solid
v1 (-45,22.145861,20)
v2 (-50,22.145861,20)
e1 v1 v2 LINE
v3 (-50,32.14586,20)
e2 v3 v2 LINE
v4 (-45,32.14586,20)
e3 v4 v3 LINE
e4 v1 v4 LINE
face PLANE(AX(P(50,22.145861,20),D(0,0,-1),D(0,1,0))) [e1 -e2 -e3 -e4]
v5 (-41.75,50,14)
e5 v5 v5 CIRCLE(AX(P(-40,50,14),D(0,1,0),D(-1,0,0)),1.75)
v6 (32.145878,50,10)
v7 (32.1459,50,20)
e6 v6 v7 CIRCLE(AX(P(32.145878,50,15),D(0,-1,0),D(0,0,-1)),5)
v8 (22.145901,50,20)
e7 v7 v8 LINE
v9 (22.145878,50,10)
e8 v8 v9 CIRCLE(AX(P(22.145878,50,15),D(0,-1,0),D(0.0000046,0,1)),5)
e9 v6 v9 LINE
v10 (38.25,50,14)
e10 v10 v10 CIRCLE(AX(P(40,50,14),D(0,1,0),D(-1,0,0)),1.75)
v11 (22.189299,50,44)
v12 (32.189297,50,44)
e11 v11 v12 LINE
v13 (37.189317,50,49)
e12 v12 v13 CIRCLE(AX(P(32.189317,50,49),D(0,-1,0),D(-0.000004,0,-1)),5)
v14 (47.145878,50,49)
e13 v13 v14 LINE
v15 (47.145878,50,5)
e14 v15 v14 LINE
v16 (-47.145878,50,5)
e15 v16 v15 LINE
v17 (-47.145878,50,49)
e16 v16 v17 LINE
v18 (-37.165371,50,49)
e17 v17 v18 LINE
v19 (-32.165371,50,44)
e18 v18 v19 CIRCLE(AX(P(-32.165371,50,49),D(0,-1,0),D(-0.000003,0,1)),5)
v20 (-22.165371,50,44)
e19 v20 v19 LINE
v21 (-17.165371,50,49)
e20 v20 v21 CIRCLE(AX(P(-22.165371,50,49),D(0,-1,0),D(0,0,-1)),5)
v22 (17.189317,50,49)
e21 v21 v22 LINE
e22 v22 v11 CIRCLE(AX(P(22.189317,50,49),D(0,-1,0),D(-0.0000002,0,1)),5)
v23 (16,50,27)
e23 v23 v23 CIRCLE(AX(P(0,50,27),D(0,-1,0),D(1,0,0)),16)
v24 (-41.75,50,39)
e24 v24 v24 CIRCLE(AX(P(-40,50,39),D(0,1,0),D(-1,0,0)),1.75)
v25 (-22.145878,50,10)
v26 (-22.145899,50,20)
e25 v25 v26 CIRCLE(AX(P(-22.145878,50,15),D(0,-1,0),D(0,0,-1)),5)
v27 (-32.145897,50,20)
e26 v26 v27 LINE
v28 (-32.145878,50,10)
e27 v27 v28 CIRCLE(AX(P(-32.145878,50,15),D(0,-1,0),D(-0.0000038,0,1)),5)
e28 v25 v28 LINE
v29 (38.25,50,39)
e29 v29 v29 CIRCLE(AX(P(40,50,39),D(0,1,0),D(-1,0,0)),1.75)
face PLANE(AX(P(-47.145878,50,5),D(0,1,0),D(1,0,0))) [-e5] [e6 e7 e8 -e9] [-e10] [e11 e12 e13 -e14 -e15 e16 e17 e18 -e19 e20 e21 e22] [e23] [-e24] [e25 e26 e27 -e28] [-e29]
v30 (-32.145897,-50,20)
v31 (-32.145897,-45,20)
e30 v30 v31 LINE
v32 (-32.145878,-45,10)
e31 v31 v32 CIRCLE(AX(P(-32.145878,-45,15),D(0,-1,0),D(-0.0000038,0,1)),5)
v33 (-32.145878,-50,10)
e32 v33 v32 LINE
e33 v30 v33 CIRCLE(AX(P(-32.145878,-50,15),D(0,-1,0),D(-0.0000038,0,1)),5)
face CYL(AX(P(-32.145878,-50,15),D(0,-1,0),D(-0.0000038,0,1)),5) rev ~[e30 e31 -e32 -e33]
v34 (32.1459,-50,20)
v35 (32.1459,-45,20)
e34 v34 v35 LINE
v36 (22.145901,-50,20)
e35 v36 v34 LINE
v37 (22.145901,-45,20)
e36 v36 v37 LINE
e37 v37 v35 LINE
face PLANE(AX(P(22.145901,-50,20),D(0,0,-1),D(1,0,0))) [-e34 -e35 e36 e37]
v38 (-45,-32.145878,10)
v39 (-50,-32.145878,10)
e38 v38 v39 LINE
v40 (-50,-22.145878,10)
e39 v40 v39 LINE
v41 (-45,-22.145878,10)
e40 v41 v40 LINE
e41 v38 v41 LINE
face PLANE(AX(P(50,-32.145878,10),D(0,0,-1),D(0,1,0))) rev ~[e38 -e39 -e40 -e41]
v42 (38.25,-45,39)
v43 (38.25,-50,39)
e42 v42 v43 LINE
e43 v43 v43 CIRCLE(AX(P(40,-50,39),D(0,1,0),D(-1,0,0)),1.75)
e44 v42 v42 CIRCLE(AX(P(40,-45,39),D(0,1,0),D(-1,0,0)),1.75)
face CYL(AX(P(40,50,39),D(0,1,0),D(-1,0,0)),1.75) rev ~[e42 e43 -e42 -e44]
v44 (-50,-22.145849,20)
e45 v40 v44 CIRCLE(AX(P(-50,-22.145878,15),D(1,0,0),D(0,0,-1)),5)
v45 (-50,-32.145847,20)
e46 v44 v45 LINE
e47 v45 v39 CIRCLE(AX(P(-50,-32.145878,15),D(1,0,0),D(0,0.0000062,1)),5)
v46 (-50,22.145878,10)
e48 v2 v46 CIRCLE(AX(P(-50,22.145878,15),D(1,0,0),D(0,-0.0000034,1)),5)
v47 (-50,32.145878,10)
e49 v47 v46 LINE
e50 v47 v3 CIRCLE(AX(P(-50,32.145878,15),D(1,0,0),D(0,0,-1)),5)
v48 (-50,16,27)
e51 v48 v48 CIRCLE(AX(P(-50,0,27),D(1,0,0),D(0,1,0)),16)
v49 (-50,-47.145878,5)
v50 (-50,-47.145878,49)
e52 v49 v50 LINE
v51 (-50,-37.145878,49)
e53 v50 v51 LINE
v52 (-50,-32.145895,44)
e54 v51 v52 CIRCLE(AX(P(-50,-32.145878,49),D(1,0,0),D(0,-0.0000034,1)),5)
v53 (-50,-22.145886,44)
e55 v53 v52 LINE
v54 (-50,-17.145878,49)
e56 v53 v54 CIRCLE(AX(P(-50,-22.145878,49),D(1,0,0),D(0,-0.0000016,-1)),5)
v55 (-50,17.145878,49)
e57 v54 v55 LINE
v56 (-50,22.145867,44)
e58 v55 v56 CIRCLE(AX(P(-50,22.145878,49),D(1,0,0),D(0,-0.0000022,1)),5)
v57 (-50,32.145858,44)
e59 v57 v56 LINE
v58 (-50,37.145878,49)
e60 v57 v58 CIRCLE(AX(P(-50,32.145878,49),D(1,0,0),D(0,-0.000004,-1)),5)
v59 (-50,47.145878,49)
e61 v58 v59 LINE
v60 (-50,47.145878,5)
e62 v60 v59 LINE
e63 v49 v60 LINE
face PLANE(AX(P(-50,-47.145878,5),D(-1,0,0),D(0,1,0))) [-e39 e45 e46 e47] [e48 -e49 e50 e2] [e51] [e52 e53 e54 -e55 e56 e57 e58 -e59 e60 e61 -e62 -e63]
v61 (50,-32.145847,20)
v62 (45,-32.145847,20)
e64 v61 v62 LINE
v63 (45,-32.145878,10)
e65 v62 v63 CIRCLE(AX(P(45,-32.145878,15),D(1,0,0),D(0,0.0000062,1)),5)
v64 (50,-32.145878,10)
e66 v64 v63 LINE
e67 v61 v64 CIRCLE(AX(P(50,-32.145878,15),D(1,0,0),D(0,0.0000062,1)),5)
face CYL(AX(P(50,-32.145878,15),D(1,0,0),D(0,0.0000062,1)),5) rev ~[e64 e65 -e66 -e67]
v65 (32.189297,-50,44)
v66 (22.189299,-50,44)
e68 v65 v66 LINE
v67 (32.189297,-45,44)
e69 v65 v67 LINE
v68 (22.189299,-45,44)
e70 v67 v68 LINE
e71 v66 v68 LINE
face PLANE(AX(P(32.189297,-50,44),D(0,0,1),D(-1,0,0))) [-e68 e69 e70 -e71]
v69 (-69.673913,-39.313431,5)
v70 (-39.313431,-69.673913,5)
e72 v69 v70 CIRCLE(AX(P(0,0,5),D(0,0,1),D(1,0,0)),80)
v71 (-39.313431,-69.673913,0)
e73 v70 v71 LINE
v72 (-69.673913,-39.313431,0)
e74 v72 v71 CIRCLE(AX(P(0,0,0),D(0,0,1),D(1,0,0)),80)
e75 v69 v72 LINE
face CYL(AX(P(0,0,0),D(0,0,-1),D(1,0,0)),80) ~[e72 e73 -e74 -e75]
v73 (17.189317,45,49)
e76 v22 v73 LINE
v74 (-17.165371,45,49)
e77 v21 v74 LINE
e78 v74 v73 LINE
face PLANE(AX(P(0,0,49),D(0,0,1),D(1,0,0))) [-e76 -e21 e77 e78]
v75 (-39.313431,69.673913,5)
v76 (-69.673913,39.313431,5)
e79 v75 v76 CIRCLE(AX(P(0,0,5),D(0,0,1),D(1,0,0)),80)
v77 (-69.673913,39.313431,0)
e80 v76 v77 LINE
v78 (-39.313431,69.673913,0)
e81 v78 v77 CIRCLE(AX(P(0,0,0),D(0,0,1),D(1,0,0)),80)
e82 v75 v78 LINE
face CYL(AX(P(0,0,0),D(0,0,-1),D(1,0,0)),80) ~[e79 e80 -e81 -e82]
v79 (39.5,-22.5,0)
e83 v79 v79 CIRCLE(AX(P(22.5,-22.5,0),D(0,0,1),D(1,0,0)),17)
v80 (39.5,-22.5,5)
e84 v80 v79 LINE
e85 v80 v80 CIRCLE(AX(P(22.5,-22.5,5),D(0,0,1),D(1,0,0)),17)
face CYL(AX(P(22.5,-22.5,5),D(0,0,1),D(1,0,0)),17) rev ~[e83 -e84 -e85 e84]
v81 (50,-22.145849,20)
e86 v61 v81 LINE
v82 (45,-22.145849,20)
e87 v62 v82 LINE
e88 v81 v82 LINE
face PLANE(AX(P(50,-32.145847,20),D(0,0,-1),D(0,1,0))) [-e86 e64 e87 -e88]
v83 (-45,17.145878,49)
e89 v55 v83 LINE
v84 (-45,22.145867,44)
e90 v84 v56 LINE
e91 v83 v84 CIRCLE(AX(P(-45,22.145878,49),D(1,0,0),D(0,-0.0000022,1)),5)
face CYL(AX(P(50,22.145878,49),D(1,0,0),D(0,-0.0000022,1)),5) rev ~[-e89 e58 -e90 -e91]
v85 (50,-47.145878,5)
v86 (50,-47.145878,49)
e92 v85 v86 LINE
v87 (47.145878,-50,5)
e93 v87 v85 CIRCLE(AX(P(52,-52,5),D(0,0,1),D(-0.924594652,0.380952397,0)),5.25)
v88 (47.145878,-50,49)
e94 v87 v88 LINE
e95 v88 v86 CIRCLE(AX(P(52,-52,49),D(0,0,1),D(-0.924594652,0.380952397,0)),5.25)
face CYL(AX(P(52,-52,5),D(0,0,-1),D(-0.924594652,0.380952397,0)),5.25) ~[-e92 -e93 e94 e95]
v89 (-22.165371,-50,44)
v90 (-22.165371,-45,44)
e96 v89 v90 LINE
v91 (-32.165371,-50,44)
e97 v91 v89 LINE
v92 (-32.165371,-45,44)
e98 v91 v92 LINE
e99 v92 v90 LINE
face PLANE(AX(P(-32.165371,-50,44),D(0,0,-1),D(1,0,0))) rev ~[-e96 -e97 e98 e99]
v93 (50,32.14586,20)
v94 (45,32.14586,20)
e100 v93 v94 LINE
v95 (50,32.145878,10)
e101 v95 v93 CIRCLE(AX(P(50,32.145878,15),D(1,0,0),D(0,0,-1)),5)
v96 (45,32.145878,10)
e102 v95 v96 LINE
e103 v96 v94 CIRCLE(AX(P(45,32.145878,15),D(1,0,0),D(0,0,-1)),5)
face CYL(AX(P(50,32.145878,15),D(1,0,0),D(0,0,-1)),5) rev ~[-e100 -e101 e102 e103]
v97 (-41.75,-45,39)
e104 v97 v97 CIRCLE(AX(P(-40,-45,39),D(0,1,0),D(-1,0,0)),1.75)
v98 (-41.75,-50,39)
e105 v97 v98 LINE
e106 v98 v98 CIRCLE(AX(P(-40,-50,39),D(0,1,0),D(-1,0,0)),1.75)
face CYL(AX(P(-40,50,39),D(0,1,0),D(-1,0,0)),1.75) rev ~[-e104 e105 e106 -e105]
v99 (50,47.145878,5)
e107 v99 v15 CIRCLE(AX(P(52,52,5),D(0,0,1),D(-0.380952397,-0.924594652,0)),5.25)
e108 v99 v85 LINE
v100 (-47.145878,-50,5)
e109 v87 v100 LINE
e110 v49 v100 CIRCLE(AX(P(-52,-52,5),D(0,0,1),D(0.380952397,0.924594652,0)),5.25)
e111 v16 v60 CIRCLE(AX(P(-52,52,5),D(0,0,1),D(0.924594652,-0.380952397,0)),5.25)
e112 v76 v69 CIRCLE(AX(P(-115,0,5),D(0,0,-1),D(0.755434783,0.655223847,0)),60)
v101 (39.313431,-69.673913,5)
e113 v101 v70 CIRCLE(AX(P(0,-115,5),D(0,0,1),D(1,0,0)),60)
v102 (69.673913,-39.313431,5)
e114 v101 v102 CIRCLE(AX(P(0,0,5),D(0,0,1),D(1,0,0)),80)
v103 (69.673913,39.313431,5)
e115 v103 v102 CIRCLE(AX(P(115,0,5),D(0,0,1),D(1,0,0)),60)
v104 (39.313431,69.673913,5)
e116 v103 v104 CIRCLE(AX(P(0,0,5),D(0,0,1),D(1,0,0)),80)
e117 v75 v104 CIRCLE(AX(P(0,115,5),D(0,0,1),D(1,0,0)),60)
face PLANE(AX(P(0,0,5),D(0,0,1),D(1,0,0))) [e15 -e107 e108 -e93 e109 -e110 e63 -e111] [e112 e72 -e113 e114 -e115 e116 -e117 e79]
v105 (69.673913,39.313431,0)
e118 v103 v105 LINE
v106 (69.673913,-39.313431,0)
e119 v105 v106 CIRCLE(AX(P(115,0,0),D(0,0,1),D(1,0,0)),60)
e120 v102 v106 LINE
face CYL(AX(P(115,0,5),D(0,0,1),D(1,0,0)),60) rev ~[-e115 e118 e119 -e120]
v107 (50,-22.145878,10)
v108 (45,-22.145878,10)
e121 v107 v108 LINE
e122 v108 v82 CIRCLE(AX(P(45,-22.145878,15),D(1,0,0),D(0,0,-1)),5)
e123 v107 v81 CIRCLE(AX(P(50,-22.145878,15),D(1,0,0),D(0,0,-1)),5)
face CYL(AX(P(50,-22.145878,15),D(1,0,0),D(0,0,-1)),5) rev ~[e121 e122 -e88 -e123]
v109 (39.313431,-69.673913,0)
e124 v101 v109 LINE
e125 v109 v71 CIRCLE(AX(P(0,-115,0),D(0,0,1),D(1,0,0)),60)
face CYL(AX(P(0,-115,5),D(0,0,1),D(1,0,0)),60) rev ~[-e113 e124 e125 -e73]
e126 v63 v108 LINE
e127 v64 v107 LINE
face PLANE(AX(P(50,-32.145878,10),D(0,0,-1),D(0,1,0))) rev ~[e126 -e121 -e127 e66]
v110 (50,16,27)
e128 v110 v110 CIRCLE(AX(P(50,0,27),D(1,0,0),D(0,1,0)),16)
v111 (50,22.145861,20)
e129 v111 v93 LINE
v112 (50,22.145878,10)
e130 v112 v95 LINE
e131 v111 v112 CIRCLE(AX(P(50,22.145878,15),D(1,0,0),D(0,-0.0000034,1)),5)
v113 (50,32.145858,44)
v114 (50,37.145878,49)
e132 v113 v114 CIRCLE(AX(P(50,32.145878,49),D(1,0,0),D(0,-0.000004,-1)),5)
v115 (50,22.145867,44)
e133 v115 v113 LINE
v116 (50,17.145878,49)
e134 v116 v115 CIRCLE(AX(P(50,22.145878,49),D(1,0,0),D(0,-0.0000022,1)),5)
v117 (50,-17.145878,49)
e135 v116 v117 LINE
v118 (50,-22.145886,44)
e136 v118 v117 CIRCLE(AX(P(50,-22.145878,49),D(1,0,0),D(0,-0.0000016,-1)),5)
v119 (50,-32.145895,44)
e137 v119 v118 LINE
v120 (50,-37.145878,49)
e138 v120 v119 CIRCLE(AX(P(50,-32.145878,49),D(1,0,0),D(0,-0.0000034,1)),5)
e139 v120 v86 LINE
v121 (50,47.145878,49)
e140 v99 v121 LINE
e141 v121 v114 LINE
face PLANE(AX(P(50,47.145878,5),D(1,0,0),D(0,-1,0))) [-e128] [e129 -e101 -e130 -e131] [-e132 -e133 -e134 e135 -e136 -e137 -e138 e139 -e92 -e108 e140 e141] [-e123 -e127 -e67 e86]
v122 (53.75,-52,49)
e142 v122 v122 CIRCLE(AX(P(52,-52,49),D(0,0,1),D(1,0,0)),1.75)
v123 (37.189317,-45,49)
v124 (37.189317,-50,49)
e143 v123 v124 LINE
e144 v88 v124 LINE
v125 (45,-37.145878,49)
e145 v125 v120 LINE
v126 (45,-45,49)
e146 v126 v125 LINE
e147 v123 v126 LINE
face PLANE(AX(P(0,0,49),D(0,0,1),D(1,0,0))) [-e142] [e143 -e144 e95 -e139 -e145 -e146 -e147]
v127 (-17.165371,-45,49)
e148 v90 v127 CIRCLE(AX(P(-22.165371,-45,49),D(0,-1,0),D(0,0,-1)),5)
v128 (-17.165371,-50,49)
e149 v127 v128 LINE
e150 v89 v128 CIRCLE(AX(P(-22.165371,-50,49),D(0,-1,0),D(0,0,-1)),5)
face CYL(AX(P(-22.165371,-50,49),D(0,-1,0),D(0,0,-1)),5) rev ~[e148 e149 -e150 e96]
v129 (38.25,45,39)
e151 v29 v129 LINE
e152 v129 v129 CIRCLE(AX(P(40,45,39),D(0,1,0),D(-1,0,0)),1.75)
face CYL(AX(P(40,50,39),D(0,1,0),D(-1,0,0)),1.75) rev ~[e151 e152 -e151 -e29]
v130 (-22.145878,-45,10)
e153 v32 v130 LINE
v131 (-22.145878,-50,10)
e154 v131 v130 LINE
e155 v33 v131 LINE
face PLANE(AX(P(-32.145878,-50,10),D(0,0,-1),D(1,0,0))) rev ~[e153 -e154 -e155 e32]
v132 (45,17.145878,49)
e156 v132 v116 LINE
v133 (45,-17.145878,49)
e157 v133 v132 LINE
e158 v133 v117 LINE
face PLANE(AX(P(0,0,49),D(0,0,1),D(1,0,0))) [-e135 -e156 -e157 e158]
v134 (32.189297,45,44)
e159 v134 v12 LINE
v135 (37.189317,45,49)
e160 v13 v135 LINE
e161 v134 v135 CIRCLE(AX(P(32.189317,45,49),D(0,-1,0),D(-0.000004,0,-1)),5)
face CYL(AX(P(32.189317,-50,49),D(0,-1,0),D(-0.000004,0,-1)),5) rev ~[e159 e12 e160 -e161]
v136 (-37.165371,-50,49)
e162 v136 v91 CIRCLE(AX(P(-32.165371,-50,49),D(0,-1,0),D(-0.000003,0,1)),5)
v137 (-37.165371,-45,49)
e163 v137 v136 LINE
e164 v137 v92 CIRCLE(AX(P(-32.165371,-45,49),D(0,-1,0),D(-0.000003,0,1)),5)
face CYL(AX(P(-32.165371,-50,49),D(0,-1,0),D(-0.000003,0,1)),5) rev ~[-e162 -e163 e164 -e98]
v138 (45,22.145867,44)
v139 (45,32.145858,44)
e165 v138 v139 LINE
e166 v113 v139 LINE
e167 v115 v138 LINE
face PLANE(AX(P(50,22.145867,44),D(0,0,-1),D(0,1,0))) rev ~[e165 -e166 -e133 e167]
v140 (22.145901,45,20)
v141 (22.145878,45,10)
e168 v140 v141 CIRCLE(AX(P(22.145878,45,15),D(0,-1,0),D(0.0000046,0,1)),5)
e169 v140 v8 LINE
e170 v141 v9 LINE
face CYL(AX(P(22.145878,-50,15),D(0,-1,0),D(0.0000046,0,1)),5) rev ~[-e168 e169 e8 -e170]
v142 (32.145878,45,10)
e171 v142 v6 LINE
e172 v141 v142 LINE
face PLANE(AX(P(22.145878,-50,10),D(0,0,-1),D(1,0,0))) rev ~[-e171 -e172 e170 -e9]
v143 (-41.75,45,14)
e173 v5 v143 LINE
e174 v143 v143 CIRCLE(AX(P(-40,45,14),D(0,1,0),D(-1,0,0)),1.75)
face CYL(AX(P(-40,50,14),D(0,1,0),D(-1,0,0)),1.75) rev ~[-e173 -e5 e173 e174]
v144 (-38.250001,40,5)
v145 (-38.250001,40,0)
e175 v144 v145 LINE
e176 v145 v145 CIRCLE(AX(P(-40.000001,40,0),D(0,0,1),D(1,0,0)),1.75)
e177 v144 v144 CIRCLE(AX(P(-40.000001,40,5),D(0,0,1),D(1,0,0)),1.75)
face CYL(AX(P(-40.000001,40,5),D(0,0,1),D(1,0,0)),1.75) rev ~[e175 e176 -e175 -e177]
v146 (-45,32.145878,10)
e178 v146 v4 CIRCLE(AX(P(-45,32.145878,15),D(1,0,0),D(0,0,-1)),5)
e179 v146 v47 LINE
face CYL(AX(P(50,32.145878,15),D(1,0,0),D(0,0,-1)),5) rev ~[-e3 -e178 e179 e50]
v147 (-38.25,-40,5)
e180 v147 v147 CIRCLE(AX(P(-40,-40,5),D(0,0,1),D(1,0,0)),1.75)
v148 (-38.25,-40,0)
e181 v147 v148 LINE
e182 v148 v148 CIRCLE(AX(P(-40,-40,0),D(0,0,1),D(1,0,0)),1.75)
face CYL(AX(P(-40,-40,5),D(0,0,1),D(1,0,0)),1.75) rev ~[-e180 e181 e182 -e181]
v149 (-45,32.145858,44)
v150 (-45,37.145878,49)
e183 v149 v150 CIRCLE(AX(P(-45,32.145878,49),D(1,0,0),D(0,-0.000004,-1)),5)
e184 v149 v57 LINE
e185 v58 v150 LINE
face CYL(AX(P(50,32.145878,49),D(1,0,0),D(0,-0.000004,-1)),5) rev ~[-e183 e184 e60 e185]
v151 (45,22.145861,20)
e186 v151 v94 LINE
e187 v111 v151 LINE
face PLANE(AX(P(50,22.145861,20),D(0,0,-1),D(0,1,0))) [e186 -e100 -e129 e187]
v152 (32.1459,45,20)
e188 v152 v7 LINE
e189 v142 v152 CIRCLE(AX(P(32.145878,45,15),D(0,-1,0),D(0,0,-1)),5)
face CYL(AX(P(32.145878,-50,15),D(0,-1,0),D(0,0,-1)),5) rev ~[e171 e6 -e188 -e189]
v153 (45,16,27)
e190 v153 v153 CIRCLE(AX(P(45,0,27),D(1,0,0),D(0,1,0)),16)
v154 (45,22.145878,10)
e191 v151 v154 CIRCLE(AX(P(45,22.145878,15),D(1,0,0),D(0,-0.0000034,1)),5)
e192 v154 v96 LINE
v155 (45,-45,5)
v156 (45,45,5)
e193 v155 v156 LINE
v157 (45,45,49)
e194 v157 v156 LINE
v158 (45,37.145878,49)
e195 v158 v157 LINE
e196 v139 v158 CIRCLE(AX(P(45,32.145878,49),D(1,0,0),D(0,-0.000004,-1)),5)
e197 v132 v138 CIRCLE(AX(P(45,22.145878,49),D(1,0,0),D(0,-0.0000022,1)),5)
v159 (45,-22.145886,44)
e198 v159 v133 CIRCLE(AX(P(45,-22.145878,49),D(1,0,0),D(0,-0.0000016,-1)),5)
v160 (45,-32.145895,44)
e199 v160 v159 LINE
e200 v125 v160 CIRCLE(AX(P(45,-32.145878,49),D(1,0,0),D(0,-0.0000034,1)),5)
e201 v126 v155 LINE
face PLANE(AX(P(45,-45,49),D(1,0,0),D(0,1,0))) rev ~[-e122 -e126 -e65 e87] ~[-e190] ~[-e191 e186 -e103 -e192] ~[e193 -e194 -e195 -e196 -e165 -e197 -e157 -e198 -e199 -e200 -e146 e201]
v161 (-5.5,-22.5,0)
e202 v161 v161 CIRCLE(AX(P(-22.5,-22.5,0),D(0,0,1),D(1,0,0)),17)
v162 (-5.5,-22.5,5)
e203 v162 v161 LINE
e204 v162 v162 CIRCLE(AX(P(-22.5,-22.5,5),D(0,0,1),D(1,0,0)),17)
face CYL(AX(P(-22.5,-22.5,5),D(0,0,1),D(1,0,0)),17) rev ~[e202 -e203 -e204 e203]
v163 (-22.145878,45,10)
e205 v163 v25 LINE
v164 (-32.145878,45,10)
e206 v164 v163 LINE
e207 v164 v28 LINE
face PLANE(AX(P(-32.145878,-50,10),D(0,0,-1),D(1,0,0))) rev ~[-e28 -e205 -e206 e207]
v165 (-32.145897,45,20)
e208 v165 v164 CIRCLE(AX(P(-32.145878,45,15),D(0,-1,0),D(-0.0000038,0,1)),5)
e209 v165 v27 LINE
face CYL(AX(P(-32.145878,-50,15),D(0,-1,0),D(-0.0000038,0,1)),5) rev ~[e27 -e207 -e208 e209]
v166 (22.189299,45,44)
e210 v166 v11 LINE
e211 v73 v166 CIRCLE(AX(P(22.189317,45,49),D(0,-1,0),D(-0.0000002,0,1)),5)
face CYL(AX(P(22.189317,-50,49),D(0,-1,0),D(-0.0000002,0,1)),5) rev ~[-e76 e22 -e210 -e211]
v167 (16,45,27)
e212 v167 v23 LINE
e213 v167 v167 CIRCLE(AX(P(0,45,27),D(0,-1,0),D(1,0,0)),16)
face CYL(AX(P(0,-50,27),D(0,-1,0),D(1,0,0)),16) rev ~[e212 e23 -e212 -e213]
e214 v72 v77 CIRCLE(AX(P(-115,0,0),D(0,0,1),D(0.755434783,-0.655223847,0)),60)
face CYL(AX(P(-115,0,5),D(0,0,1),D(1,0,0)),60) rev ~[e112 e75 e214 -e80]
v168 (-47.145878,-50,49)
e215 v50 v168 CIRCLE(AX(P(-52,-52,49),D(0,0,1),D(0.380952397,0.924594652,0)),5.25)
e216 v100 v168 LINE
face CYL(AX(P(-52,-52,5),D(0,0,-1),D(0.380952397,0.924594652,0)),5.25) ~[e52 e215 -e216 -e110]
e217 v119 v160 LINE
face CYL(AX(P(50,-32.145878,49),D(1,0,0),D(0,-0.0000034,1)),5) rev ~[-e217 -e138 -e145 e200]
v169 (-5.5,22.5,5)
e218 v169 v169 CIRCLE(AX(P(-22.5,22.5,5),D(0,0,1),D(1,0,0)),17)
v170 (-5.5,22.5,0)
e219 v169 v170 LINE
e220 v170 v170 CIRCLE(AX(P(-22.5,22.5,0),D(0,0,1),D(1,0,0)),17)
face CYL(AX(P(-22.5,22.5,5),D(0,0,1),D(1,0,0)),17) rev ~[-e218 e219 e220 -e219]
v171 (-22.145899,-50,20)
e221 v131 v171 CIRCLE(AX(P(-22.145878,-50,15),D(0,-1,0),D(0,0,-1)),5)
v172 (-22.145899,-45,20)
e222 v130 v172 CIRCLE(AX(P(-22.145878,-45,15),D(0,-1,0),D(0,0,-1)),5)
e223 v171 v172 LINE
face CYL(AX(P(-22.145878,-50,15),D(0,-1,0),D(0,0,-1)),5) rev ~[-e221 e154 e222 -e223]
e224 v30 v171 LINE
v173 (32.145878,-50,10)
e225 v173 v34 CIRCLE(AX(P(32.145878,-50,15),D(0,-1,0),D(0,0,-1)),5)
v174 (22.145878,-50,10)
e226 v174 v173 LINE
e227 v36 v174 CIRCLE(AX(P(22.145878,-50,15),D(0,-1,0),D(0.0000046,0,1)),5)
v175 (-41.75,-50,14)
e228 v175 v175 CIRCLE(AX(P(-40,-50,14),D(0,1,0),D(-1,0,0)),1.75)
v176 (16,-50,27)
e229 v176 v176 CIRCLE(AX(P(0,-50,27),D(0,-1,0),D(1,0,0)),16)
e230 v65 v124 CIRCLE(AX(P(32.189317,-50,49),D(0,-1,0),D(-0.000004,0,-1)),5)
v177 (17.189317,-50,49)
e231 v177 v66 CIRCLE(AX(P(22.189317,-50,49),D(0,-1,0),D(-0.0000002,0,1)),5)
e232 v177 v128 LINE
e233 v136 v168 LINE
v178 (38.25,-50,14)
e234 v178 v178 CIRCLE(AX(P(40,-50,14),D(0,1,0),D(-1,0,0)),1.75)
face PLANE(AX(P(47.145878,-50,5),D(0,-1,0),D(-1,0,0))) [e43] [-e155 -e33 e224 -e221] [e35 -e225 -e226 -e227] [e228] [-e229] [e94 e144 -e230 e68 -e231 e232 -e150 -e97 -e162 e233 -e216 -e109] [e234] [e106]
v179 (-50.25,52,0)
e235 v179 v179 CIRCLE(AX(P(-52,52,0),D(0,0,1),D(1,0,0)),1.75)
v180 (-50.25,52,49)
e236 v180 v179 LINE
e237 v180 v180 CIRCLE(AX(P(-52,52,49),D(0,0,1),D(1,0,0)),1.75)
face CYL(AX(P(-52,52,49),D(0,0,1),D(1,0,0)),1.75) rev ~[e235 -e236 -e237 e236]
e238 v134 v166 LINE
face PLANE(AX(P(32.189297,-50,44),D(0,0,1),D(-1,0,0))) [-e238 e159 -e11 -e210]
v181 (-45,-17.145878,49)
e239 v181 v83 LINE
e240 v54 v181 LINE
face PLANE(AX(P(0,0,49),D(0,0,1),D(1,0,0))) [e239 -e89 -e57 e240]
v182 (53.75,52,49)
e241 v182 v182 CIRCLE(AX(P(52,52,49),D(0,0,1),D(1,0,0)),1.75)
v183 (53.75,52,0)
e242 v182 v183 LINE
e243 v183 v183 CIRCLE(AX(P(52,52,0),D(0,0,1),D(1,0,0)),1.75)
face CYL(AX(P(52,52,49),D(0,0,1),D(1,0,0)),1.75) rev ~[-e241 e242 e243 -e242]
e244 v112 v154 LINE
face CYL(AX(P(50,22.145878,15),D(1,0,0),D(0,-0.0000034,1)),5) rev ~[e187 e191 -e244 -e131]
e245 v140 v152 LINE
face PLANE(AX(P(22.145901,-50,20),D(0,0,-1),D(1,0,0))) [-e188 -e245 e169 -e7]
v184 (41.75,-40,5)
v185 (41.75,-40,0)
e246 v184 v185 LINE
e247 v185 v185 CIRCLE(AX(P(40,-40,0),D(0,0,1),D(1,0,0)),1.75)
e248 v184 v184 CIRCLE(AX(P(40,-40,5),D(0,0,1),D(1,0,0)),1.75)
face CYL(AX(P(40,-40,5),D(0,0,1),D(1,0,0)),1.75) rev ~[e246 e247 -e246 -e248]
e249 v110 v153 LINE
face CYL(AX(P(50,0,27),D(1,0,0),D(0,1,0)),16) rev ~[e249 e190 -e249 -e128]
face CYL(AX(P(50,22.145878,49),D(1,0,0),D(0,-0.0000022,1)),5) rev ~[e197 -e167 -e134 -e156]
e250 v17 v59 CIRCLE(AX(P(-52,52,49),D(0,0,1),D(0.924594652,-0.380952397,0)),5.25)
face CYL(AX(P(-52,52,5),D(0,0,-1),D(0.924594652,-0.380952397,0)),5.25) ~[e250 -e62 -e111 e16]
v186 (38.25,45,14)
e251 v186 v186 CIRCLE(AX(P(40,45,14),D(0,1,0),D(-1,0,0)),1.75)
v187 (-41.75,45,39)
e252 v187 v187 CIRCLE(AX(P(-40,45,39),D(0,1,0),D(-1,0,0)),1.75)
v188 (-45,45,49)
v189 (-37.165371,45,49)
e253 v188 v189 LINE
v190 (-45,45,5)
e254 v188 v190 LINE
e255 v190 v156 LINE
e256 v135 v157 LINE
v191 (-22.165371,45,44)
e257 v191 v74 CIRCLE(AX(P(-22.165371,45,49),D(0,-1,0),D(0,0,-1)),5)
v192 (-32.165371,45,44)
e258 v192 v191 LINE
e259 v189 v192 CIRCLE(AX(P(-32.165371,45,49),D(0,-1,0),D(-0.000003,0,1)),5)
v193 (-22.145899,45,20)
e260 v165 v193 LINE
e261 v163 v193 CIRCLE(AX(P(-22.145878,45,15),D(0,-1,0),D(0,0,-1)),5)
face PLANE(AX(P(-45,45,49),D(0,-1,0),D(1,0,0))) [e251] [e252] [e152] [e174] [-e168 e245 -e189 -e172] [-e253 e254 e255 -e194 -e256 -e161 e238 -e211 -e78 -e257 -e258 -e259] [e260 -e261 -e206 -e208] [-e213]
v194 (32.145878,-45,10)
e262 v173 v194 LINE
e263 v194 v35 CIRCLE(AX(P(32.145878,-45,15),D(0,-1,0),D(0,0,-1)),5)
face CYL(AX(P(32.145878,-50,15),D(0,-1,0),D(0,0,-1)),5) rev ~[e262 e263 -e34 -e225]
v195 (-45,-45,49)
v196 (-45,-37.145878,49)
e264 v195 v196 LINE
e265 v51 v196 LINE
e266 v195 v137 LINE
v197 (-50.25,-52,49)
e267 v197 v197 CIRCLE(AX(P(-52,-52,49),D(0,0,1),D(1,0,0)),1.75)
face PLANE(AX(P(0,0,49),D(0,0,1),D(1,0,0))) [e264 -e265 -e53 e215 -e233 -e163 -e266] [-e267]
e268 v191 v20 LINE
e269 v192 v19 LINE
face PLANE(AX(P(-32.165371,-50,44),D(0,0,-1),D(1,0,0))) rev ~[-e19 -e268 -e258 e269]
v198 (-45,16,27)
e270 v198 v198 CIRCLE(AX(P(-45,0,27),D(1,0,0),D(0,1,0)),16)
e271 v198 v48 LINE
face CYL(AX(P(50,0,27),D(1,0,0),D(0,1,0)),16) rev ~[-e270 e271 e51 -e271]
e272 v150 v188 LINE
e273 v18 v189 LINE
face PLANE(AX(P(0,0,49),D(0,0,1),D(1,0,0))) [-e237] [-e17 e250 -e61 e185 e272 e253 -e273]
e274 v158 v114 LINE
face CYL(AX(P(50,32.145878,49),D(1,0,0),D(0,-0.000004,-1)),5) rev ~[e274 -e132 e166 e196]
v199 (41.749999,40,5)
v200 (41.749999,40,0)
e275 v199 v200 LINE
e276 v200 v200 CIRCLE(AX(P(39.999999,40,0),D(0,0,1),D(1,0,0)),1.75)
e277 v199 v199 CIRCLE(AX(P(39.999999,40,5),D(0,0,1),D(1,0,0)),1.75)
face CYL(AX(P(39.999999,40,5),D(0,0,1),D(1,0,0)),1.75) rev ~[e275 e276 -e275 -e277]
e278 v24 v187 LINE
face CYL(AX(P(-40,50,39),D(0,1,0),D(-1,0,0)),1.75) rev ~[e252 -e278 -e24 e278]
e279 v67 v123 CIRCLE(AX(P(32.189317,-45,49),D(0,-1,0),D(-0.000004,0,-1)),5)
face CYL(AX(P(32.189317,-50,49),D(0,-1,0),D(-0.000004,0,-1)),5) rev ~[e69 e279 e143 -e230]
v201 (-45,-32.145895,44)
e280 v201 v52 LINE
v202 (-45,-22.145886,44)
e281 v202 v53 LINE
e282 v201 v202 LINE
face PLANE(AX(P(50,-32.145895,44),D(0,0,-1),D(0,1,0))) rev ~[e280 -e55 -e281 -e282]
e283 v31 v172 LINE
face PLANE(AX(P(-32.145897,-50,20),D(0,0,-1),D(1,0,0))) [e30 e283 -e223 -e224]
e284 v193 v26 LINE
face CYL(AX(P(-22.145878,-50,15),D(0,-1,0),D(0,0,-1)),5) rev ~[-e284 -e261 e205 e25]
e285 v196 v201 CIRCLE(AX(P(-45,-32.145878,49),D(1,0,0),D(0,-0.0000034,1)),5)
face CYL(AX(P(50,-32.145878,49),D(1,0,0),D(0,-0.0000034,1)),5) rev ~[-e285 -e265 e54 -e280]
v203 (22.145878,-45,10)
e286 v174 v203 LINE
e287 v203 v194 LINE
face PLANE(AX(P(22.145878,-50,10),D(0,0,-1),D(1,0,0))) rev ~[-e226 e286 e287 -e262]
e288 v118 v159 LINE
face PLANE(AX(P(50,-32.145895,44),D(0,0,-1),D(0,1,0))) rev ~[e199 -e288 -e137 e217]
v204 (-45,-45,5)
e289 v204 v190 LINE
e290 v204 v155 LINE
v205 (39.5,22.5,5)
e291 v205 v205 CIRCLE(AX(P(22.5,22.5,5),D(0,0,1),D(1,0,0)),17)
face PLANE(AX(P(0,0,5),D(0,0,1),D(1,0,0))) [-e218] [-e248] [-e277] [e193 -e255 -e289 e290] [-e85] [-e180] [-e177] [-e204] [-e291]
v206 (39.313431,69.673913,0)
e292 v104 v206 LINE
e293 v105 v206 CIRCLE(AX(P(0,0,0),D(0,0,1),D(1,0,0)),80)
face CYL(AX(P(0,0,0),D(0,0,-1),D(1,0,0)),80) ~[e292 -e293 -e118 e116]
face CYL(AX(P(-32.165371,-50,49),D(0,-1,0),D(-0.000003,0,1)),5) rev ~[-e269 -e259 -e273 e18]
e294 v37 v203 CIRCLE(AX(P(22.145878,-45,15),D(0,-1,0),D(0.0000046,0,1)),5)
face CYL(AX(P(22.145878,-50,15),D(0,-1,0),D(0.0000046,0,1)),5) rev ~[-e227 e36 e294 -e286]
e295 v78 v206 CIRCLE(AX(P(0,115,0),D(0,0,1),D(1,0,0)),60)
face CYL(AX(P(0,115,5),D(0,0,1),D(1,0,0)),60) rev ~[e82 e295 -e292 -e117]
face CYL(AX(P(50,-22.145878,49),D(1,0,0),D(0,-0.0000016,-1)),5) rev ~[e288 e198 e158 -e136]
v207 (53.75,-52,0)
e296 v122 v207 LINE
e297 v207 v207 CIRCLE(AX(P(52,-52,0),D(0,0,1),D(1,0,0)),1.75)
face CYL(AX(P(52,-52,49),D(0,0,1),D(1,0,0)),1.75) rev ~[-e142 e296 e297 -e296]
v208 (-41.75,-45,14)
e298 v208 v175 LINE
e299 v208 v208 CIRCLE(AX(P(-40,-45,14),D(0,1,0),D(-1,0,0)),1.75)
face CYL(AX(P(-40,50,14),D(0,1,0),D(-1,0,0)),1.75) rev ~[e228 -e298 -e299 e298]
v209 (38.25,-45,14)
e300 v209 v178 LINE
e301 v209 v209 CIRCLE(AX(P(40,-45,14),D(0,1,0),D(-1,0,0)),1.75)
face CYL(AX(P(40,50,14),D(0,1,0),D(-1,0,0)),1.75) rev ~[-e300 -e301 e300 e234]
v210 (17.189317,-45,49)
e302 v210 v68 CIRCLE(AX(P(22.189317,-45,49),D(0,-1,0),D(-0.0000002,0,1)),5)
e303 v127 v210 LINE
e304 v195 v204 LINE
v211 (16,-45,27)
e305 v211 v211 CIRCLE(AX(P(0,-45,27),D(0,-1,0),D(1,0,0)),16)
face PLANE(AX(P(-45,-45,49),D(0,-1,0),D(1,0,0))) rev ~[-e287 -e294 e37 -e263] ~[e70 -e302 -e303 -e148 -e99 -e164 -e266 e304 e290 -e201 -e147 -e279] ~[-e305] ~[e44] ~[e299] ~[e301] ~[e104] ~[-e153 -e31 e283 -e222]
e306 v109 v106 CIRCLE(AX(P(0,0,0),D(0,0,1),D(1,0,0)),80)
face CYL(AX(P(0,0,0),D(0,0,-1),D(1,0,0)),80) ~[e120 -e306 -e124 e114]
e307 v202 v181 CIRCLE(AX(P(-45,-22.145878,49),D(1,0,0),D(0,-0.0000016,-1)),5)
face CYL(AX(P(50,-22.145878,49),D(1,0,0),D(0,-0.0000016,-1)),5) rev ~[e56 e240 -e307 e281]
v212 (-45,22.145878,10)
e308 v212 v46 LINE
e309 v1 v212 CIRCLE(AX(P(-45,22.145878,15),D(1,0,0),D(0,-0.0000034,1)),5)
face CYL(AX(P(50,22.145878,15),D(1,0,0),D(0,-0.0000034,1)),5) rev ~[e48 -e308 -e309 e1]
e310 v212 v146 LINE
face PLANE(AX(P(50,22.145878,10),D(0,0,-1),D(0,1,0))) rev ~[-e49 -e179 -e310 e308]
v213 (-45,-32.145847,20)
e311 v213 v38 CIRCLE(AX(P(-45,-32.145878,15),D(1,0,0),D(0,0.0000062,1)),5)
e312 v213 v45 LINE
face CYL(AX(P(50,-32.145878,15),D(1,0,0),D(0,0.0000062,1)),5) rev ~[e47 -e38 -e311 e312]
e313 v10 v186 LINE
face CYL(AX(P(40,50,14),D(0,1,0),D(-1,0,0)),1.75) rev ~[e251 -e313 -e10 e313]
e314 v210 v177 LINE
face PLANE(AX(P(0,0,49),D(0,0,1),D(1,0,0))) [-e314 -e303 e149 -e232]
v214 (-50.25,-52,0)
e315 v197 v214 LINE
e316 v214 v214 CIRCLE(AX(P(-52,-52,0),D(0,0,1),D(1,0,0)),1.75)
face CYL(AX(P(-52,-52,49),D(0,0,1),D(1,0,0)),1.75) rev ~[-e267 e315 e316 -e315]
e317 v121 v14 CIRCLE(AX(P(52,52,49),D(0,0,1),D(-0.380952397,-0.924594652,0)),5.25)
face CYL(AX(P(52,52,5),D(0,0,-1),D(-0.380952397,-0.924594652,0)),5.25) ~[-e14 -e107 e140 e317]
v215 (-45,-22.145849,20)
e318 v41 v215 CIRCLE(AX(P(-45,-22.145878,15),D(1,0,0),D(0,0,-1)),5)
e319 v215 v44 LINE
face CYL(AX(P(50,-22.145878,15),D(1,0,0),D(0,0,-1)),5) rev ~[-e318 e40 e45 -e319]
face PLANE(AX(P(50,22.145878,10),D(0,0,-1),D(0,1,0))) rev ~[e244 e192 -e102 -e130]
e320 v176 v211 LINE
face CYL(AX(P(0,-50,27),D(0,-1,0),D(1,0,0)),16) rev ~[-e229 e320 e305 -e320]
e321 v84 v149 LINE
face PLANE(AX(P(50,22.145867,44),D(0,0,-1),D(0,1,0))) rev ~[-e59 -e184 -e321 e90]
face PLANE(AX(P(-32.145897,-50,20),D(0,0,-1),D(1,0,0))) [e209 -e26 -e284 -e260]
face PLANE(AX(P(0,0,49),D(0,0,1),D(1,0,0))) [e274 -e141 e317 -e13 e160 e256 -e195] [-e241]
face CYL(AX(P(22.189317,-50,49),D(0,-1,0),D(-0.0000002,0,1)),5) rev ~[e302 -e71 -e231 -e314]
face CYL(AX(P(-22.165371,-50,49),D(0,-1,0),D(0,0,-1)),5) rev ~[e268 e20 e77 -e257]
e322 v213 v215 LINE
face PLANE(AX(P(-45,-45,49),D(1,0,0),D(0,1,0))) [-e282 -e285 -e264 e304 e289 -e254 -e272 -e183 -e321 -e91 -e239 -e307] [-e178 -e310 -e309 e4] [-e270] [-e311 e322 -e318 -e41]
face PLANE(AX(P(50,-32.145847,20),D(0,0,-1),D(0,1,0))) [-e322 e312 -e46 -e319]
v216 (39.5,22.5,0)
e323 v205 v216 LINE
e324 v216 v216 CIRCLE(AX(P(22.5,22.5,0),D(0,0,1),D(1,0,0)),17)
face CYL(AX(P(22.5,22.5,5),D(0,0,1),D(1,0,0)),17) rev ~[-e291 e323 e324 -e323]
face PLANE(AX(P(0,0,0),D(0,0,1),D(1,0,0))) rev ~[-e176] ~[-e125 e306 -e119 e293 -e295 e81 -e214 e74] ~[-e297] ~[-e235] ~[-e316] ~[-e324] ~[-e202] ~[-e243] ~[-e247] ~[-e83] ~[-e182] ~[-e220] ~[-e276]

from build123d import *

# Parameters (mm, degrees)
SKETCH_R        = 80
PAD_DEPTH       = 5
PAD001_DEPTH    = 44
SKETCH003_W     = 90
SKETCH003_H     = 90
POCKET_DEPTH    = 44
SKETCH004_R     = 1.75
POCKET001_DEPTH = 49.001
SKETCH005_R     = 17
SKETCH005_R_2   = 60
POCKET002_DEPTH = 5.001
SKETCH006_R     = 16
POCKET003_DEPTH = 119.674913
SKETCH007_R     = 16
POCKET004_DEPTH = 119.674913
SKETCH010_R     = 1.75
POCKET005_DEPTH = 119.674913
SKETCH011_R     = 1.75
POCKET006_DEPTH = 5.001


with BuildPart() as part:
    # Sketch → Pad (new body)
    with BuildSketch(Plane.XY):
        Circle(SKETCH_R)
    extrude(amount=PAD_DEPTH)

    # Sketch002 → Pad001 (new body)
    with BuildSketch(Plane.XY.offset(5)):
        with BuildLine():
            ThreePointArc((-47.145878, 50), (-55.712311, 55.712311), (-50, 47.145878))
            Line((-50, -47.145878), (-50, 47.145878))
            ThreePointArc((-50, -47.145878), (-55.712311, -55.712311), (-47.145878, -50))
            Line((47.145878, -50), (-47.145878, -50))
            ThreePointArc((47.145878, -50), (55.712311, -55.712311), (50, -47.145878))
            Line((50, 47.145878), (50, -47.145878))
            ThreePointArc((50, 47.145878), (55.712311, 55.712311), (47.145878, 50))
            Line((-47.145878, 50), (47.145878, 50))
        make_face()
    extrude(amount=PAD001_DEPTH)

    # Sketch003 → Pocket (cut)
    with BuildSketch(Plane.XY.offset(49)):
        Rectangle(SKETCH003_W, SKETCH003_H)
    extrude(amount=-POCKET_DEPTH, mode=Mode.SUBTRACT)

    # Sketch004 → Pocket001 (cut, through all)
    with BuildSketch(Plane.XY.offset(49)):
        with Locations((-52, -52)):
            Circle(SKETCH004_R)
        with Locations((52, 52)):
            Circle(SKETCH004_R)
        with Locations((52, -52)):
            Circle(SKETCH004_R)
        with Locations((-52, 52)):
            Circle(SKETCH004_R)
    extrude(amount=-POCKET001_DEPTH, mode=Mode.SUBTRACT)

    # Sketch005 → Pocket002 (cut, through all)
    with BuildSketch(Plane.XY.offset(5)):
        with Locations((-22.5, 22.5)):
            Circle(SKETCH005_R)
        with Locations((22.5, 22.5)):
            Circle(SKETCH005_R)
        with Locations((-22.5, -22.5)):
            Circle(SKETCH005_R)
        with Locations((22.5, -22.5)):
            Circle(SKETCH005_R)
        with Locations((0, -115)):
            Circle(SKETCH005_R_2)
        with Locations((-115, 0)):
            Circle(SKETCH005_R_2)
        with Locations((115, 0)):
            Circle(SKETCH005_R_2)
        with Locations((0, 115)):
            Circle(SKETCH005_R_2)
    extrude(amount=-POCKET002_DEPTH, mode=Mode.SUBTRACT)

    # Sketch006 → Pocket003 (cut, through all)
    with BuildSketch(Plane.YZ.offset(50)):
        with Locations((0, 27)):
            Circle(SKETCH006_R)
        with BuildLine():
            ThreePointArc((-32.145847, 20), (-37.145878, 15.000015), (-32.145878, 10))
            Line((-32.145878, 10), (-22.145878, 10))
            ThreePointArc((-22.145878, 10), (-17.145878, 14.999986), (-22.145849, 20))
            Line((-32.145847, 20), (-22.145849, 20))
        make_face()
        with BuildLine():
            ThreePointArc((22.145861, 20), (17.145878, 14.999992), (22.145878, 10))
            Line((22.145878, 10), (32.145878, 10))
            ThreePointArc((32.145878, 10), (37.145878, 15.000009), (32.14586, 20))
            Line((22.145861, 20), (32.14586, 20))
        make_face()
        with BuildLine():
            ThreePointArc((-32.145895, 54), (-37.145878, 49), (-32.145895, 44))
            Line((-32.145895, 44), (-22.145886, 44))
            ThreePointArc((-22.145886, 44), (-17.145878, 48.999999), (-22.145885, 54))
            Line((-32.145895, 54), (-22.145885, 54))
        make_face()
        with BuildLine():
            ThreePointArc((22.145867, 54), (17.145878, 49), (22.145867, 44))
            Line((22.145867, 44), (32.145858, 44))
            ThreePointArc((32.145858, 44), (37.145878, 49), (32.145857, 54))
            Line((22.145867, 54), (32.145857, 54))
        make_face()
    extrude(amount=-POCKET003_DEPTH, mode=Mode.SUBTRACT)

    # Sketch007 → Pocket004 (cut, through all)
    with BuildSketch(Plane.XZ.offset(50)):
        with Locations((0, 27)):
            Circle(SKETCH007_R)
        with BuildLine():
            ThreePointArc((-32.165386, 54), (-37.165371, 48.999992), (-32.165371, 44))
            Line((-32.165371, 44), (-22.165371, 44))
            ThreePointArc((-22.165371, 44), (-17.165371, 49.000008), (-22.165388, 54))
            Line((-32.165386, 54), (-22.165388, 54))
        make_face()
        with BuildLine():
            ThreePointArc((32.189297, 44), (37.189317, 48.99999), (32.189316, 54))
            Line((32.189316, 54), (22.189316, 54))
            ThreePointArc((22.189316, 54), (17.189317, 49.000008), (22.189299, 44))
            Line((32.189297, 44), (22.189299, 44))
        make_face()
        with BuildLine():
            ThreePointArc((-32.145897, 20), (-37.145878, 14.99999), (-32.145878, 10))
            Line((-32.145878, 10), (-22.145878, 10))
            ThreePointArc((-22.145878, 10), (-17.145878, 15.000011), (-22.145899, 20))
            Line((-32.145897, 20), (-22.145899, 20))
        make_face()
        with BuildLine():
            ThreePointArc((22.145901, 20), (17.145878, 15.000011), (22.145878, 10))
            Line((22.145878, 10), (32.145878, 10))
            ThreePointArc((32.145878, 10), (37.145878, 14.999989), (32.1459, 20))
            Line((22.145901, 20), (32.1459, 20))
        make_face()
    extrude(amount=-POCKET004_DEPTH, mode=Mode.SUBTRACT)

    # Sketch010 → Pocket005 (cut, through all)
    with BuildSketch(Plane(origin=(0, 50, 0), x_dir=(-1, 0, 0), z_dir=(0, 1, 0))):
        with Locations((-40, 39)):
            Circle(SKETCH010_R)
        with Locations((-40, 14)):
            Circle(SKETCH010_R)
        with Locations((40, 14)):
            Circle(SKETCH010_R)
        with Locations((40, 39)):
            Circle(SKETCH010_R)
    extrude(amount=-POCKET005_DEPTH, mode=Mode.SUBTRACT)

    # Sketch011 → Pocket006 (cut, through all)
    with BuildSketch(Plane.XY.offset(5)):
        with Locations((39.999999, 40)):
            Circle(SKETCH011_R)
        with Locations((-40.000001, 40)):
            Circle(SKETCH011_R)
        with Locations((-40, -40)):
            Circle(SKETCH011_R)
        with Locations((40, -40)):
            Circle(SKETCH011_R)
    extrude(amount=-POCKET006_DEPTH, mode=Mode.SUBTRACT)


solid = part.part
